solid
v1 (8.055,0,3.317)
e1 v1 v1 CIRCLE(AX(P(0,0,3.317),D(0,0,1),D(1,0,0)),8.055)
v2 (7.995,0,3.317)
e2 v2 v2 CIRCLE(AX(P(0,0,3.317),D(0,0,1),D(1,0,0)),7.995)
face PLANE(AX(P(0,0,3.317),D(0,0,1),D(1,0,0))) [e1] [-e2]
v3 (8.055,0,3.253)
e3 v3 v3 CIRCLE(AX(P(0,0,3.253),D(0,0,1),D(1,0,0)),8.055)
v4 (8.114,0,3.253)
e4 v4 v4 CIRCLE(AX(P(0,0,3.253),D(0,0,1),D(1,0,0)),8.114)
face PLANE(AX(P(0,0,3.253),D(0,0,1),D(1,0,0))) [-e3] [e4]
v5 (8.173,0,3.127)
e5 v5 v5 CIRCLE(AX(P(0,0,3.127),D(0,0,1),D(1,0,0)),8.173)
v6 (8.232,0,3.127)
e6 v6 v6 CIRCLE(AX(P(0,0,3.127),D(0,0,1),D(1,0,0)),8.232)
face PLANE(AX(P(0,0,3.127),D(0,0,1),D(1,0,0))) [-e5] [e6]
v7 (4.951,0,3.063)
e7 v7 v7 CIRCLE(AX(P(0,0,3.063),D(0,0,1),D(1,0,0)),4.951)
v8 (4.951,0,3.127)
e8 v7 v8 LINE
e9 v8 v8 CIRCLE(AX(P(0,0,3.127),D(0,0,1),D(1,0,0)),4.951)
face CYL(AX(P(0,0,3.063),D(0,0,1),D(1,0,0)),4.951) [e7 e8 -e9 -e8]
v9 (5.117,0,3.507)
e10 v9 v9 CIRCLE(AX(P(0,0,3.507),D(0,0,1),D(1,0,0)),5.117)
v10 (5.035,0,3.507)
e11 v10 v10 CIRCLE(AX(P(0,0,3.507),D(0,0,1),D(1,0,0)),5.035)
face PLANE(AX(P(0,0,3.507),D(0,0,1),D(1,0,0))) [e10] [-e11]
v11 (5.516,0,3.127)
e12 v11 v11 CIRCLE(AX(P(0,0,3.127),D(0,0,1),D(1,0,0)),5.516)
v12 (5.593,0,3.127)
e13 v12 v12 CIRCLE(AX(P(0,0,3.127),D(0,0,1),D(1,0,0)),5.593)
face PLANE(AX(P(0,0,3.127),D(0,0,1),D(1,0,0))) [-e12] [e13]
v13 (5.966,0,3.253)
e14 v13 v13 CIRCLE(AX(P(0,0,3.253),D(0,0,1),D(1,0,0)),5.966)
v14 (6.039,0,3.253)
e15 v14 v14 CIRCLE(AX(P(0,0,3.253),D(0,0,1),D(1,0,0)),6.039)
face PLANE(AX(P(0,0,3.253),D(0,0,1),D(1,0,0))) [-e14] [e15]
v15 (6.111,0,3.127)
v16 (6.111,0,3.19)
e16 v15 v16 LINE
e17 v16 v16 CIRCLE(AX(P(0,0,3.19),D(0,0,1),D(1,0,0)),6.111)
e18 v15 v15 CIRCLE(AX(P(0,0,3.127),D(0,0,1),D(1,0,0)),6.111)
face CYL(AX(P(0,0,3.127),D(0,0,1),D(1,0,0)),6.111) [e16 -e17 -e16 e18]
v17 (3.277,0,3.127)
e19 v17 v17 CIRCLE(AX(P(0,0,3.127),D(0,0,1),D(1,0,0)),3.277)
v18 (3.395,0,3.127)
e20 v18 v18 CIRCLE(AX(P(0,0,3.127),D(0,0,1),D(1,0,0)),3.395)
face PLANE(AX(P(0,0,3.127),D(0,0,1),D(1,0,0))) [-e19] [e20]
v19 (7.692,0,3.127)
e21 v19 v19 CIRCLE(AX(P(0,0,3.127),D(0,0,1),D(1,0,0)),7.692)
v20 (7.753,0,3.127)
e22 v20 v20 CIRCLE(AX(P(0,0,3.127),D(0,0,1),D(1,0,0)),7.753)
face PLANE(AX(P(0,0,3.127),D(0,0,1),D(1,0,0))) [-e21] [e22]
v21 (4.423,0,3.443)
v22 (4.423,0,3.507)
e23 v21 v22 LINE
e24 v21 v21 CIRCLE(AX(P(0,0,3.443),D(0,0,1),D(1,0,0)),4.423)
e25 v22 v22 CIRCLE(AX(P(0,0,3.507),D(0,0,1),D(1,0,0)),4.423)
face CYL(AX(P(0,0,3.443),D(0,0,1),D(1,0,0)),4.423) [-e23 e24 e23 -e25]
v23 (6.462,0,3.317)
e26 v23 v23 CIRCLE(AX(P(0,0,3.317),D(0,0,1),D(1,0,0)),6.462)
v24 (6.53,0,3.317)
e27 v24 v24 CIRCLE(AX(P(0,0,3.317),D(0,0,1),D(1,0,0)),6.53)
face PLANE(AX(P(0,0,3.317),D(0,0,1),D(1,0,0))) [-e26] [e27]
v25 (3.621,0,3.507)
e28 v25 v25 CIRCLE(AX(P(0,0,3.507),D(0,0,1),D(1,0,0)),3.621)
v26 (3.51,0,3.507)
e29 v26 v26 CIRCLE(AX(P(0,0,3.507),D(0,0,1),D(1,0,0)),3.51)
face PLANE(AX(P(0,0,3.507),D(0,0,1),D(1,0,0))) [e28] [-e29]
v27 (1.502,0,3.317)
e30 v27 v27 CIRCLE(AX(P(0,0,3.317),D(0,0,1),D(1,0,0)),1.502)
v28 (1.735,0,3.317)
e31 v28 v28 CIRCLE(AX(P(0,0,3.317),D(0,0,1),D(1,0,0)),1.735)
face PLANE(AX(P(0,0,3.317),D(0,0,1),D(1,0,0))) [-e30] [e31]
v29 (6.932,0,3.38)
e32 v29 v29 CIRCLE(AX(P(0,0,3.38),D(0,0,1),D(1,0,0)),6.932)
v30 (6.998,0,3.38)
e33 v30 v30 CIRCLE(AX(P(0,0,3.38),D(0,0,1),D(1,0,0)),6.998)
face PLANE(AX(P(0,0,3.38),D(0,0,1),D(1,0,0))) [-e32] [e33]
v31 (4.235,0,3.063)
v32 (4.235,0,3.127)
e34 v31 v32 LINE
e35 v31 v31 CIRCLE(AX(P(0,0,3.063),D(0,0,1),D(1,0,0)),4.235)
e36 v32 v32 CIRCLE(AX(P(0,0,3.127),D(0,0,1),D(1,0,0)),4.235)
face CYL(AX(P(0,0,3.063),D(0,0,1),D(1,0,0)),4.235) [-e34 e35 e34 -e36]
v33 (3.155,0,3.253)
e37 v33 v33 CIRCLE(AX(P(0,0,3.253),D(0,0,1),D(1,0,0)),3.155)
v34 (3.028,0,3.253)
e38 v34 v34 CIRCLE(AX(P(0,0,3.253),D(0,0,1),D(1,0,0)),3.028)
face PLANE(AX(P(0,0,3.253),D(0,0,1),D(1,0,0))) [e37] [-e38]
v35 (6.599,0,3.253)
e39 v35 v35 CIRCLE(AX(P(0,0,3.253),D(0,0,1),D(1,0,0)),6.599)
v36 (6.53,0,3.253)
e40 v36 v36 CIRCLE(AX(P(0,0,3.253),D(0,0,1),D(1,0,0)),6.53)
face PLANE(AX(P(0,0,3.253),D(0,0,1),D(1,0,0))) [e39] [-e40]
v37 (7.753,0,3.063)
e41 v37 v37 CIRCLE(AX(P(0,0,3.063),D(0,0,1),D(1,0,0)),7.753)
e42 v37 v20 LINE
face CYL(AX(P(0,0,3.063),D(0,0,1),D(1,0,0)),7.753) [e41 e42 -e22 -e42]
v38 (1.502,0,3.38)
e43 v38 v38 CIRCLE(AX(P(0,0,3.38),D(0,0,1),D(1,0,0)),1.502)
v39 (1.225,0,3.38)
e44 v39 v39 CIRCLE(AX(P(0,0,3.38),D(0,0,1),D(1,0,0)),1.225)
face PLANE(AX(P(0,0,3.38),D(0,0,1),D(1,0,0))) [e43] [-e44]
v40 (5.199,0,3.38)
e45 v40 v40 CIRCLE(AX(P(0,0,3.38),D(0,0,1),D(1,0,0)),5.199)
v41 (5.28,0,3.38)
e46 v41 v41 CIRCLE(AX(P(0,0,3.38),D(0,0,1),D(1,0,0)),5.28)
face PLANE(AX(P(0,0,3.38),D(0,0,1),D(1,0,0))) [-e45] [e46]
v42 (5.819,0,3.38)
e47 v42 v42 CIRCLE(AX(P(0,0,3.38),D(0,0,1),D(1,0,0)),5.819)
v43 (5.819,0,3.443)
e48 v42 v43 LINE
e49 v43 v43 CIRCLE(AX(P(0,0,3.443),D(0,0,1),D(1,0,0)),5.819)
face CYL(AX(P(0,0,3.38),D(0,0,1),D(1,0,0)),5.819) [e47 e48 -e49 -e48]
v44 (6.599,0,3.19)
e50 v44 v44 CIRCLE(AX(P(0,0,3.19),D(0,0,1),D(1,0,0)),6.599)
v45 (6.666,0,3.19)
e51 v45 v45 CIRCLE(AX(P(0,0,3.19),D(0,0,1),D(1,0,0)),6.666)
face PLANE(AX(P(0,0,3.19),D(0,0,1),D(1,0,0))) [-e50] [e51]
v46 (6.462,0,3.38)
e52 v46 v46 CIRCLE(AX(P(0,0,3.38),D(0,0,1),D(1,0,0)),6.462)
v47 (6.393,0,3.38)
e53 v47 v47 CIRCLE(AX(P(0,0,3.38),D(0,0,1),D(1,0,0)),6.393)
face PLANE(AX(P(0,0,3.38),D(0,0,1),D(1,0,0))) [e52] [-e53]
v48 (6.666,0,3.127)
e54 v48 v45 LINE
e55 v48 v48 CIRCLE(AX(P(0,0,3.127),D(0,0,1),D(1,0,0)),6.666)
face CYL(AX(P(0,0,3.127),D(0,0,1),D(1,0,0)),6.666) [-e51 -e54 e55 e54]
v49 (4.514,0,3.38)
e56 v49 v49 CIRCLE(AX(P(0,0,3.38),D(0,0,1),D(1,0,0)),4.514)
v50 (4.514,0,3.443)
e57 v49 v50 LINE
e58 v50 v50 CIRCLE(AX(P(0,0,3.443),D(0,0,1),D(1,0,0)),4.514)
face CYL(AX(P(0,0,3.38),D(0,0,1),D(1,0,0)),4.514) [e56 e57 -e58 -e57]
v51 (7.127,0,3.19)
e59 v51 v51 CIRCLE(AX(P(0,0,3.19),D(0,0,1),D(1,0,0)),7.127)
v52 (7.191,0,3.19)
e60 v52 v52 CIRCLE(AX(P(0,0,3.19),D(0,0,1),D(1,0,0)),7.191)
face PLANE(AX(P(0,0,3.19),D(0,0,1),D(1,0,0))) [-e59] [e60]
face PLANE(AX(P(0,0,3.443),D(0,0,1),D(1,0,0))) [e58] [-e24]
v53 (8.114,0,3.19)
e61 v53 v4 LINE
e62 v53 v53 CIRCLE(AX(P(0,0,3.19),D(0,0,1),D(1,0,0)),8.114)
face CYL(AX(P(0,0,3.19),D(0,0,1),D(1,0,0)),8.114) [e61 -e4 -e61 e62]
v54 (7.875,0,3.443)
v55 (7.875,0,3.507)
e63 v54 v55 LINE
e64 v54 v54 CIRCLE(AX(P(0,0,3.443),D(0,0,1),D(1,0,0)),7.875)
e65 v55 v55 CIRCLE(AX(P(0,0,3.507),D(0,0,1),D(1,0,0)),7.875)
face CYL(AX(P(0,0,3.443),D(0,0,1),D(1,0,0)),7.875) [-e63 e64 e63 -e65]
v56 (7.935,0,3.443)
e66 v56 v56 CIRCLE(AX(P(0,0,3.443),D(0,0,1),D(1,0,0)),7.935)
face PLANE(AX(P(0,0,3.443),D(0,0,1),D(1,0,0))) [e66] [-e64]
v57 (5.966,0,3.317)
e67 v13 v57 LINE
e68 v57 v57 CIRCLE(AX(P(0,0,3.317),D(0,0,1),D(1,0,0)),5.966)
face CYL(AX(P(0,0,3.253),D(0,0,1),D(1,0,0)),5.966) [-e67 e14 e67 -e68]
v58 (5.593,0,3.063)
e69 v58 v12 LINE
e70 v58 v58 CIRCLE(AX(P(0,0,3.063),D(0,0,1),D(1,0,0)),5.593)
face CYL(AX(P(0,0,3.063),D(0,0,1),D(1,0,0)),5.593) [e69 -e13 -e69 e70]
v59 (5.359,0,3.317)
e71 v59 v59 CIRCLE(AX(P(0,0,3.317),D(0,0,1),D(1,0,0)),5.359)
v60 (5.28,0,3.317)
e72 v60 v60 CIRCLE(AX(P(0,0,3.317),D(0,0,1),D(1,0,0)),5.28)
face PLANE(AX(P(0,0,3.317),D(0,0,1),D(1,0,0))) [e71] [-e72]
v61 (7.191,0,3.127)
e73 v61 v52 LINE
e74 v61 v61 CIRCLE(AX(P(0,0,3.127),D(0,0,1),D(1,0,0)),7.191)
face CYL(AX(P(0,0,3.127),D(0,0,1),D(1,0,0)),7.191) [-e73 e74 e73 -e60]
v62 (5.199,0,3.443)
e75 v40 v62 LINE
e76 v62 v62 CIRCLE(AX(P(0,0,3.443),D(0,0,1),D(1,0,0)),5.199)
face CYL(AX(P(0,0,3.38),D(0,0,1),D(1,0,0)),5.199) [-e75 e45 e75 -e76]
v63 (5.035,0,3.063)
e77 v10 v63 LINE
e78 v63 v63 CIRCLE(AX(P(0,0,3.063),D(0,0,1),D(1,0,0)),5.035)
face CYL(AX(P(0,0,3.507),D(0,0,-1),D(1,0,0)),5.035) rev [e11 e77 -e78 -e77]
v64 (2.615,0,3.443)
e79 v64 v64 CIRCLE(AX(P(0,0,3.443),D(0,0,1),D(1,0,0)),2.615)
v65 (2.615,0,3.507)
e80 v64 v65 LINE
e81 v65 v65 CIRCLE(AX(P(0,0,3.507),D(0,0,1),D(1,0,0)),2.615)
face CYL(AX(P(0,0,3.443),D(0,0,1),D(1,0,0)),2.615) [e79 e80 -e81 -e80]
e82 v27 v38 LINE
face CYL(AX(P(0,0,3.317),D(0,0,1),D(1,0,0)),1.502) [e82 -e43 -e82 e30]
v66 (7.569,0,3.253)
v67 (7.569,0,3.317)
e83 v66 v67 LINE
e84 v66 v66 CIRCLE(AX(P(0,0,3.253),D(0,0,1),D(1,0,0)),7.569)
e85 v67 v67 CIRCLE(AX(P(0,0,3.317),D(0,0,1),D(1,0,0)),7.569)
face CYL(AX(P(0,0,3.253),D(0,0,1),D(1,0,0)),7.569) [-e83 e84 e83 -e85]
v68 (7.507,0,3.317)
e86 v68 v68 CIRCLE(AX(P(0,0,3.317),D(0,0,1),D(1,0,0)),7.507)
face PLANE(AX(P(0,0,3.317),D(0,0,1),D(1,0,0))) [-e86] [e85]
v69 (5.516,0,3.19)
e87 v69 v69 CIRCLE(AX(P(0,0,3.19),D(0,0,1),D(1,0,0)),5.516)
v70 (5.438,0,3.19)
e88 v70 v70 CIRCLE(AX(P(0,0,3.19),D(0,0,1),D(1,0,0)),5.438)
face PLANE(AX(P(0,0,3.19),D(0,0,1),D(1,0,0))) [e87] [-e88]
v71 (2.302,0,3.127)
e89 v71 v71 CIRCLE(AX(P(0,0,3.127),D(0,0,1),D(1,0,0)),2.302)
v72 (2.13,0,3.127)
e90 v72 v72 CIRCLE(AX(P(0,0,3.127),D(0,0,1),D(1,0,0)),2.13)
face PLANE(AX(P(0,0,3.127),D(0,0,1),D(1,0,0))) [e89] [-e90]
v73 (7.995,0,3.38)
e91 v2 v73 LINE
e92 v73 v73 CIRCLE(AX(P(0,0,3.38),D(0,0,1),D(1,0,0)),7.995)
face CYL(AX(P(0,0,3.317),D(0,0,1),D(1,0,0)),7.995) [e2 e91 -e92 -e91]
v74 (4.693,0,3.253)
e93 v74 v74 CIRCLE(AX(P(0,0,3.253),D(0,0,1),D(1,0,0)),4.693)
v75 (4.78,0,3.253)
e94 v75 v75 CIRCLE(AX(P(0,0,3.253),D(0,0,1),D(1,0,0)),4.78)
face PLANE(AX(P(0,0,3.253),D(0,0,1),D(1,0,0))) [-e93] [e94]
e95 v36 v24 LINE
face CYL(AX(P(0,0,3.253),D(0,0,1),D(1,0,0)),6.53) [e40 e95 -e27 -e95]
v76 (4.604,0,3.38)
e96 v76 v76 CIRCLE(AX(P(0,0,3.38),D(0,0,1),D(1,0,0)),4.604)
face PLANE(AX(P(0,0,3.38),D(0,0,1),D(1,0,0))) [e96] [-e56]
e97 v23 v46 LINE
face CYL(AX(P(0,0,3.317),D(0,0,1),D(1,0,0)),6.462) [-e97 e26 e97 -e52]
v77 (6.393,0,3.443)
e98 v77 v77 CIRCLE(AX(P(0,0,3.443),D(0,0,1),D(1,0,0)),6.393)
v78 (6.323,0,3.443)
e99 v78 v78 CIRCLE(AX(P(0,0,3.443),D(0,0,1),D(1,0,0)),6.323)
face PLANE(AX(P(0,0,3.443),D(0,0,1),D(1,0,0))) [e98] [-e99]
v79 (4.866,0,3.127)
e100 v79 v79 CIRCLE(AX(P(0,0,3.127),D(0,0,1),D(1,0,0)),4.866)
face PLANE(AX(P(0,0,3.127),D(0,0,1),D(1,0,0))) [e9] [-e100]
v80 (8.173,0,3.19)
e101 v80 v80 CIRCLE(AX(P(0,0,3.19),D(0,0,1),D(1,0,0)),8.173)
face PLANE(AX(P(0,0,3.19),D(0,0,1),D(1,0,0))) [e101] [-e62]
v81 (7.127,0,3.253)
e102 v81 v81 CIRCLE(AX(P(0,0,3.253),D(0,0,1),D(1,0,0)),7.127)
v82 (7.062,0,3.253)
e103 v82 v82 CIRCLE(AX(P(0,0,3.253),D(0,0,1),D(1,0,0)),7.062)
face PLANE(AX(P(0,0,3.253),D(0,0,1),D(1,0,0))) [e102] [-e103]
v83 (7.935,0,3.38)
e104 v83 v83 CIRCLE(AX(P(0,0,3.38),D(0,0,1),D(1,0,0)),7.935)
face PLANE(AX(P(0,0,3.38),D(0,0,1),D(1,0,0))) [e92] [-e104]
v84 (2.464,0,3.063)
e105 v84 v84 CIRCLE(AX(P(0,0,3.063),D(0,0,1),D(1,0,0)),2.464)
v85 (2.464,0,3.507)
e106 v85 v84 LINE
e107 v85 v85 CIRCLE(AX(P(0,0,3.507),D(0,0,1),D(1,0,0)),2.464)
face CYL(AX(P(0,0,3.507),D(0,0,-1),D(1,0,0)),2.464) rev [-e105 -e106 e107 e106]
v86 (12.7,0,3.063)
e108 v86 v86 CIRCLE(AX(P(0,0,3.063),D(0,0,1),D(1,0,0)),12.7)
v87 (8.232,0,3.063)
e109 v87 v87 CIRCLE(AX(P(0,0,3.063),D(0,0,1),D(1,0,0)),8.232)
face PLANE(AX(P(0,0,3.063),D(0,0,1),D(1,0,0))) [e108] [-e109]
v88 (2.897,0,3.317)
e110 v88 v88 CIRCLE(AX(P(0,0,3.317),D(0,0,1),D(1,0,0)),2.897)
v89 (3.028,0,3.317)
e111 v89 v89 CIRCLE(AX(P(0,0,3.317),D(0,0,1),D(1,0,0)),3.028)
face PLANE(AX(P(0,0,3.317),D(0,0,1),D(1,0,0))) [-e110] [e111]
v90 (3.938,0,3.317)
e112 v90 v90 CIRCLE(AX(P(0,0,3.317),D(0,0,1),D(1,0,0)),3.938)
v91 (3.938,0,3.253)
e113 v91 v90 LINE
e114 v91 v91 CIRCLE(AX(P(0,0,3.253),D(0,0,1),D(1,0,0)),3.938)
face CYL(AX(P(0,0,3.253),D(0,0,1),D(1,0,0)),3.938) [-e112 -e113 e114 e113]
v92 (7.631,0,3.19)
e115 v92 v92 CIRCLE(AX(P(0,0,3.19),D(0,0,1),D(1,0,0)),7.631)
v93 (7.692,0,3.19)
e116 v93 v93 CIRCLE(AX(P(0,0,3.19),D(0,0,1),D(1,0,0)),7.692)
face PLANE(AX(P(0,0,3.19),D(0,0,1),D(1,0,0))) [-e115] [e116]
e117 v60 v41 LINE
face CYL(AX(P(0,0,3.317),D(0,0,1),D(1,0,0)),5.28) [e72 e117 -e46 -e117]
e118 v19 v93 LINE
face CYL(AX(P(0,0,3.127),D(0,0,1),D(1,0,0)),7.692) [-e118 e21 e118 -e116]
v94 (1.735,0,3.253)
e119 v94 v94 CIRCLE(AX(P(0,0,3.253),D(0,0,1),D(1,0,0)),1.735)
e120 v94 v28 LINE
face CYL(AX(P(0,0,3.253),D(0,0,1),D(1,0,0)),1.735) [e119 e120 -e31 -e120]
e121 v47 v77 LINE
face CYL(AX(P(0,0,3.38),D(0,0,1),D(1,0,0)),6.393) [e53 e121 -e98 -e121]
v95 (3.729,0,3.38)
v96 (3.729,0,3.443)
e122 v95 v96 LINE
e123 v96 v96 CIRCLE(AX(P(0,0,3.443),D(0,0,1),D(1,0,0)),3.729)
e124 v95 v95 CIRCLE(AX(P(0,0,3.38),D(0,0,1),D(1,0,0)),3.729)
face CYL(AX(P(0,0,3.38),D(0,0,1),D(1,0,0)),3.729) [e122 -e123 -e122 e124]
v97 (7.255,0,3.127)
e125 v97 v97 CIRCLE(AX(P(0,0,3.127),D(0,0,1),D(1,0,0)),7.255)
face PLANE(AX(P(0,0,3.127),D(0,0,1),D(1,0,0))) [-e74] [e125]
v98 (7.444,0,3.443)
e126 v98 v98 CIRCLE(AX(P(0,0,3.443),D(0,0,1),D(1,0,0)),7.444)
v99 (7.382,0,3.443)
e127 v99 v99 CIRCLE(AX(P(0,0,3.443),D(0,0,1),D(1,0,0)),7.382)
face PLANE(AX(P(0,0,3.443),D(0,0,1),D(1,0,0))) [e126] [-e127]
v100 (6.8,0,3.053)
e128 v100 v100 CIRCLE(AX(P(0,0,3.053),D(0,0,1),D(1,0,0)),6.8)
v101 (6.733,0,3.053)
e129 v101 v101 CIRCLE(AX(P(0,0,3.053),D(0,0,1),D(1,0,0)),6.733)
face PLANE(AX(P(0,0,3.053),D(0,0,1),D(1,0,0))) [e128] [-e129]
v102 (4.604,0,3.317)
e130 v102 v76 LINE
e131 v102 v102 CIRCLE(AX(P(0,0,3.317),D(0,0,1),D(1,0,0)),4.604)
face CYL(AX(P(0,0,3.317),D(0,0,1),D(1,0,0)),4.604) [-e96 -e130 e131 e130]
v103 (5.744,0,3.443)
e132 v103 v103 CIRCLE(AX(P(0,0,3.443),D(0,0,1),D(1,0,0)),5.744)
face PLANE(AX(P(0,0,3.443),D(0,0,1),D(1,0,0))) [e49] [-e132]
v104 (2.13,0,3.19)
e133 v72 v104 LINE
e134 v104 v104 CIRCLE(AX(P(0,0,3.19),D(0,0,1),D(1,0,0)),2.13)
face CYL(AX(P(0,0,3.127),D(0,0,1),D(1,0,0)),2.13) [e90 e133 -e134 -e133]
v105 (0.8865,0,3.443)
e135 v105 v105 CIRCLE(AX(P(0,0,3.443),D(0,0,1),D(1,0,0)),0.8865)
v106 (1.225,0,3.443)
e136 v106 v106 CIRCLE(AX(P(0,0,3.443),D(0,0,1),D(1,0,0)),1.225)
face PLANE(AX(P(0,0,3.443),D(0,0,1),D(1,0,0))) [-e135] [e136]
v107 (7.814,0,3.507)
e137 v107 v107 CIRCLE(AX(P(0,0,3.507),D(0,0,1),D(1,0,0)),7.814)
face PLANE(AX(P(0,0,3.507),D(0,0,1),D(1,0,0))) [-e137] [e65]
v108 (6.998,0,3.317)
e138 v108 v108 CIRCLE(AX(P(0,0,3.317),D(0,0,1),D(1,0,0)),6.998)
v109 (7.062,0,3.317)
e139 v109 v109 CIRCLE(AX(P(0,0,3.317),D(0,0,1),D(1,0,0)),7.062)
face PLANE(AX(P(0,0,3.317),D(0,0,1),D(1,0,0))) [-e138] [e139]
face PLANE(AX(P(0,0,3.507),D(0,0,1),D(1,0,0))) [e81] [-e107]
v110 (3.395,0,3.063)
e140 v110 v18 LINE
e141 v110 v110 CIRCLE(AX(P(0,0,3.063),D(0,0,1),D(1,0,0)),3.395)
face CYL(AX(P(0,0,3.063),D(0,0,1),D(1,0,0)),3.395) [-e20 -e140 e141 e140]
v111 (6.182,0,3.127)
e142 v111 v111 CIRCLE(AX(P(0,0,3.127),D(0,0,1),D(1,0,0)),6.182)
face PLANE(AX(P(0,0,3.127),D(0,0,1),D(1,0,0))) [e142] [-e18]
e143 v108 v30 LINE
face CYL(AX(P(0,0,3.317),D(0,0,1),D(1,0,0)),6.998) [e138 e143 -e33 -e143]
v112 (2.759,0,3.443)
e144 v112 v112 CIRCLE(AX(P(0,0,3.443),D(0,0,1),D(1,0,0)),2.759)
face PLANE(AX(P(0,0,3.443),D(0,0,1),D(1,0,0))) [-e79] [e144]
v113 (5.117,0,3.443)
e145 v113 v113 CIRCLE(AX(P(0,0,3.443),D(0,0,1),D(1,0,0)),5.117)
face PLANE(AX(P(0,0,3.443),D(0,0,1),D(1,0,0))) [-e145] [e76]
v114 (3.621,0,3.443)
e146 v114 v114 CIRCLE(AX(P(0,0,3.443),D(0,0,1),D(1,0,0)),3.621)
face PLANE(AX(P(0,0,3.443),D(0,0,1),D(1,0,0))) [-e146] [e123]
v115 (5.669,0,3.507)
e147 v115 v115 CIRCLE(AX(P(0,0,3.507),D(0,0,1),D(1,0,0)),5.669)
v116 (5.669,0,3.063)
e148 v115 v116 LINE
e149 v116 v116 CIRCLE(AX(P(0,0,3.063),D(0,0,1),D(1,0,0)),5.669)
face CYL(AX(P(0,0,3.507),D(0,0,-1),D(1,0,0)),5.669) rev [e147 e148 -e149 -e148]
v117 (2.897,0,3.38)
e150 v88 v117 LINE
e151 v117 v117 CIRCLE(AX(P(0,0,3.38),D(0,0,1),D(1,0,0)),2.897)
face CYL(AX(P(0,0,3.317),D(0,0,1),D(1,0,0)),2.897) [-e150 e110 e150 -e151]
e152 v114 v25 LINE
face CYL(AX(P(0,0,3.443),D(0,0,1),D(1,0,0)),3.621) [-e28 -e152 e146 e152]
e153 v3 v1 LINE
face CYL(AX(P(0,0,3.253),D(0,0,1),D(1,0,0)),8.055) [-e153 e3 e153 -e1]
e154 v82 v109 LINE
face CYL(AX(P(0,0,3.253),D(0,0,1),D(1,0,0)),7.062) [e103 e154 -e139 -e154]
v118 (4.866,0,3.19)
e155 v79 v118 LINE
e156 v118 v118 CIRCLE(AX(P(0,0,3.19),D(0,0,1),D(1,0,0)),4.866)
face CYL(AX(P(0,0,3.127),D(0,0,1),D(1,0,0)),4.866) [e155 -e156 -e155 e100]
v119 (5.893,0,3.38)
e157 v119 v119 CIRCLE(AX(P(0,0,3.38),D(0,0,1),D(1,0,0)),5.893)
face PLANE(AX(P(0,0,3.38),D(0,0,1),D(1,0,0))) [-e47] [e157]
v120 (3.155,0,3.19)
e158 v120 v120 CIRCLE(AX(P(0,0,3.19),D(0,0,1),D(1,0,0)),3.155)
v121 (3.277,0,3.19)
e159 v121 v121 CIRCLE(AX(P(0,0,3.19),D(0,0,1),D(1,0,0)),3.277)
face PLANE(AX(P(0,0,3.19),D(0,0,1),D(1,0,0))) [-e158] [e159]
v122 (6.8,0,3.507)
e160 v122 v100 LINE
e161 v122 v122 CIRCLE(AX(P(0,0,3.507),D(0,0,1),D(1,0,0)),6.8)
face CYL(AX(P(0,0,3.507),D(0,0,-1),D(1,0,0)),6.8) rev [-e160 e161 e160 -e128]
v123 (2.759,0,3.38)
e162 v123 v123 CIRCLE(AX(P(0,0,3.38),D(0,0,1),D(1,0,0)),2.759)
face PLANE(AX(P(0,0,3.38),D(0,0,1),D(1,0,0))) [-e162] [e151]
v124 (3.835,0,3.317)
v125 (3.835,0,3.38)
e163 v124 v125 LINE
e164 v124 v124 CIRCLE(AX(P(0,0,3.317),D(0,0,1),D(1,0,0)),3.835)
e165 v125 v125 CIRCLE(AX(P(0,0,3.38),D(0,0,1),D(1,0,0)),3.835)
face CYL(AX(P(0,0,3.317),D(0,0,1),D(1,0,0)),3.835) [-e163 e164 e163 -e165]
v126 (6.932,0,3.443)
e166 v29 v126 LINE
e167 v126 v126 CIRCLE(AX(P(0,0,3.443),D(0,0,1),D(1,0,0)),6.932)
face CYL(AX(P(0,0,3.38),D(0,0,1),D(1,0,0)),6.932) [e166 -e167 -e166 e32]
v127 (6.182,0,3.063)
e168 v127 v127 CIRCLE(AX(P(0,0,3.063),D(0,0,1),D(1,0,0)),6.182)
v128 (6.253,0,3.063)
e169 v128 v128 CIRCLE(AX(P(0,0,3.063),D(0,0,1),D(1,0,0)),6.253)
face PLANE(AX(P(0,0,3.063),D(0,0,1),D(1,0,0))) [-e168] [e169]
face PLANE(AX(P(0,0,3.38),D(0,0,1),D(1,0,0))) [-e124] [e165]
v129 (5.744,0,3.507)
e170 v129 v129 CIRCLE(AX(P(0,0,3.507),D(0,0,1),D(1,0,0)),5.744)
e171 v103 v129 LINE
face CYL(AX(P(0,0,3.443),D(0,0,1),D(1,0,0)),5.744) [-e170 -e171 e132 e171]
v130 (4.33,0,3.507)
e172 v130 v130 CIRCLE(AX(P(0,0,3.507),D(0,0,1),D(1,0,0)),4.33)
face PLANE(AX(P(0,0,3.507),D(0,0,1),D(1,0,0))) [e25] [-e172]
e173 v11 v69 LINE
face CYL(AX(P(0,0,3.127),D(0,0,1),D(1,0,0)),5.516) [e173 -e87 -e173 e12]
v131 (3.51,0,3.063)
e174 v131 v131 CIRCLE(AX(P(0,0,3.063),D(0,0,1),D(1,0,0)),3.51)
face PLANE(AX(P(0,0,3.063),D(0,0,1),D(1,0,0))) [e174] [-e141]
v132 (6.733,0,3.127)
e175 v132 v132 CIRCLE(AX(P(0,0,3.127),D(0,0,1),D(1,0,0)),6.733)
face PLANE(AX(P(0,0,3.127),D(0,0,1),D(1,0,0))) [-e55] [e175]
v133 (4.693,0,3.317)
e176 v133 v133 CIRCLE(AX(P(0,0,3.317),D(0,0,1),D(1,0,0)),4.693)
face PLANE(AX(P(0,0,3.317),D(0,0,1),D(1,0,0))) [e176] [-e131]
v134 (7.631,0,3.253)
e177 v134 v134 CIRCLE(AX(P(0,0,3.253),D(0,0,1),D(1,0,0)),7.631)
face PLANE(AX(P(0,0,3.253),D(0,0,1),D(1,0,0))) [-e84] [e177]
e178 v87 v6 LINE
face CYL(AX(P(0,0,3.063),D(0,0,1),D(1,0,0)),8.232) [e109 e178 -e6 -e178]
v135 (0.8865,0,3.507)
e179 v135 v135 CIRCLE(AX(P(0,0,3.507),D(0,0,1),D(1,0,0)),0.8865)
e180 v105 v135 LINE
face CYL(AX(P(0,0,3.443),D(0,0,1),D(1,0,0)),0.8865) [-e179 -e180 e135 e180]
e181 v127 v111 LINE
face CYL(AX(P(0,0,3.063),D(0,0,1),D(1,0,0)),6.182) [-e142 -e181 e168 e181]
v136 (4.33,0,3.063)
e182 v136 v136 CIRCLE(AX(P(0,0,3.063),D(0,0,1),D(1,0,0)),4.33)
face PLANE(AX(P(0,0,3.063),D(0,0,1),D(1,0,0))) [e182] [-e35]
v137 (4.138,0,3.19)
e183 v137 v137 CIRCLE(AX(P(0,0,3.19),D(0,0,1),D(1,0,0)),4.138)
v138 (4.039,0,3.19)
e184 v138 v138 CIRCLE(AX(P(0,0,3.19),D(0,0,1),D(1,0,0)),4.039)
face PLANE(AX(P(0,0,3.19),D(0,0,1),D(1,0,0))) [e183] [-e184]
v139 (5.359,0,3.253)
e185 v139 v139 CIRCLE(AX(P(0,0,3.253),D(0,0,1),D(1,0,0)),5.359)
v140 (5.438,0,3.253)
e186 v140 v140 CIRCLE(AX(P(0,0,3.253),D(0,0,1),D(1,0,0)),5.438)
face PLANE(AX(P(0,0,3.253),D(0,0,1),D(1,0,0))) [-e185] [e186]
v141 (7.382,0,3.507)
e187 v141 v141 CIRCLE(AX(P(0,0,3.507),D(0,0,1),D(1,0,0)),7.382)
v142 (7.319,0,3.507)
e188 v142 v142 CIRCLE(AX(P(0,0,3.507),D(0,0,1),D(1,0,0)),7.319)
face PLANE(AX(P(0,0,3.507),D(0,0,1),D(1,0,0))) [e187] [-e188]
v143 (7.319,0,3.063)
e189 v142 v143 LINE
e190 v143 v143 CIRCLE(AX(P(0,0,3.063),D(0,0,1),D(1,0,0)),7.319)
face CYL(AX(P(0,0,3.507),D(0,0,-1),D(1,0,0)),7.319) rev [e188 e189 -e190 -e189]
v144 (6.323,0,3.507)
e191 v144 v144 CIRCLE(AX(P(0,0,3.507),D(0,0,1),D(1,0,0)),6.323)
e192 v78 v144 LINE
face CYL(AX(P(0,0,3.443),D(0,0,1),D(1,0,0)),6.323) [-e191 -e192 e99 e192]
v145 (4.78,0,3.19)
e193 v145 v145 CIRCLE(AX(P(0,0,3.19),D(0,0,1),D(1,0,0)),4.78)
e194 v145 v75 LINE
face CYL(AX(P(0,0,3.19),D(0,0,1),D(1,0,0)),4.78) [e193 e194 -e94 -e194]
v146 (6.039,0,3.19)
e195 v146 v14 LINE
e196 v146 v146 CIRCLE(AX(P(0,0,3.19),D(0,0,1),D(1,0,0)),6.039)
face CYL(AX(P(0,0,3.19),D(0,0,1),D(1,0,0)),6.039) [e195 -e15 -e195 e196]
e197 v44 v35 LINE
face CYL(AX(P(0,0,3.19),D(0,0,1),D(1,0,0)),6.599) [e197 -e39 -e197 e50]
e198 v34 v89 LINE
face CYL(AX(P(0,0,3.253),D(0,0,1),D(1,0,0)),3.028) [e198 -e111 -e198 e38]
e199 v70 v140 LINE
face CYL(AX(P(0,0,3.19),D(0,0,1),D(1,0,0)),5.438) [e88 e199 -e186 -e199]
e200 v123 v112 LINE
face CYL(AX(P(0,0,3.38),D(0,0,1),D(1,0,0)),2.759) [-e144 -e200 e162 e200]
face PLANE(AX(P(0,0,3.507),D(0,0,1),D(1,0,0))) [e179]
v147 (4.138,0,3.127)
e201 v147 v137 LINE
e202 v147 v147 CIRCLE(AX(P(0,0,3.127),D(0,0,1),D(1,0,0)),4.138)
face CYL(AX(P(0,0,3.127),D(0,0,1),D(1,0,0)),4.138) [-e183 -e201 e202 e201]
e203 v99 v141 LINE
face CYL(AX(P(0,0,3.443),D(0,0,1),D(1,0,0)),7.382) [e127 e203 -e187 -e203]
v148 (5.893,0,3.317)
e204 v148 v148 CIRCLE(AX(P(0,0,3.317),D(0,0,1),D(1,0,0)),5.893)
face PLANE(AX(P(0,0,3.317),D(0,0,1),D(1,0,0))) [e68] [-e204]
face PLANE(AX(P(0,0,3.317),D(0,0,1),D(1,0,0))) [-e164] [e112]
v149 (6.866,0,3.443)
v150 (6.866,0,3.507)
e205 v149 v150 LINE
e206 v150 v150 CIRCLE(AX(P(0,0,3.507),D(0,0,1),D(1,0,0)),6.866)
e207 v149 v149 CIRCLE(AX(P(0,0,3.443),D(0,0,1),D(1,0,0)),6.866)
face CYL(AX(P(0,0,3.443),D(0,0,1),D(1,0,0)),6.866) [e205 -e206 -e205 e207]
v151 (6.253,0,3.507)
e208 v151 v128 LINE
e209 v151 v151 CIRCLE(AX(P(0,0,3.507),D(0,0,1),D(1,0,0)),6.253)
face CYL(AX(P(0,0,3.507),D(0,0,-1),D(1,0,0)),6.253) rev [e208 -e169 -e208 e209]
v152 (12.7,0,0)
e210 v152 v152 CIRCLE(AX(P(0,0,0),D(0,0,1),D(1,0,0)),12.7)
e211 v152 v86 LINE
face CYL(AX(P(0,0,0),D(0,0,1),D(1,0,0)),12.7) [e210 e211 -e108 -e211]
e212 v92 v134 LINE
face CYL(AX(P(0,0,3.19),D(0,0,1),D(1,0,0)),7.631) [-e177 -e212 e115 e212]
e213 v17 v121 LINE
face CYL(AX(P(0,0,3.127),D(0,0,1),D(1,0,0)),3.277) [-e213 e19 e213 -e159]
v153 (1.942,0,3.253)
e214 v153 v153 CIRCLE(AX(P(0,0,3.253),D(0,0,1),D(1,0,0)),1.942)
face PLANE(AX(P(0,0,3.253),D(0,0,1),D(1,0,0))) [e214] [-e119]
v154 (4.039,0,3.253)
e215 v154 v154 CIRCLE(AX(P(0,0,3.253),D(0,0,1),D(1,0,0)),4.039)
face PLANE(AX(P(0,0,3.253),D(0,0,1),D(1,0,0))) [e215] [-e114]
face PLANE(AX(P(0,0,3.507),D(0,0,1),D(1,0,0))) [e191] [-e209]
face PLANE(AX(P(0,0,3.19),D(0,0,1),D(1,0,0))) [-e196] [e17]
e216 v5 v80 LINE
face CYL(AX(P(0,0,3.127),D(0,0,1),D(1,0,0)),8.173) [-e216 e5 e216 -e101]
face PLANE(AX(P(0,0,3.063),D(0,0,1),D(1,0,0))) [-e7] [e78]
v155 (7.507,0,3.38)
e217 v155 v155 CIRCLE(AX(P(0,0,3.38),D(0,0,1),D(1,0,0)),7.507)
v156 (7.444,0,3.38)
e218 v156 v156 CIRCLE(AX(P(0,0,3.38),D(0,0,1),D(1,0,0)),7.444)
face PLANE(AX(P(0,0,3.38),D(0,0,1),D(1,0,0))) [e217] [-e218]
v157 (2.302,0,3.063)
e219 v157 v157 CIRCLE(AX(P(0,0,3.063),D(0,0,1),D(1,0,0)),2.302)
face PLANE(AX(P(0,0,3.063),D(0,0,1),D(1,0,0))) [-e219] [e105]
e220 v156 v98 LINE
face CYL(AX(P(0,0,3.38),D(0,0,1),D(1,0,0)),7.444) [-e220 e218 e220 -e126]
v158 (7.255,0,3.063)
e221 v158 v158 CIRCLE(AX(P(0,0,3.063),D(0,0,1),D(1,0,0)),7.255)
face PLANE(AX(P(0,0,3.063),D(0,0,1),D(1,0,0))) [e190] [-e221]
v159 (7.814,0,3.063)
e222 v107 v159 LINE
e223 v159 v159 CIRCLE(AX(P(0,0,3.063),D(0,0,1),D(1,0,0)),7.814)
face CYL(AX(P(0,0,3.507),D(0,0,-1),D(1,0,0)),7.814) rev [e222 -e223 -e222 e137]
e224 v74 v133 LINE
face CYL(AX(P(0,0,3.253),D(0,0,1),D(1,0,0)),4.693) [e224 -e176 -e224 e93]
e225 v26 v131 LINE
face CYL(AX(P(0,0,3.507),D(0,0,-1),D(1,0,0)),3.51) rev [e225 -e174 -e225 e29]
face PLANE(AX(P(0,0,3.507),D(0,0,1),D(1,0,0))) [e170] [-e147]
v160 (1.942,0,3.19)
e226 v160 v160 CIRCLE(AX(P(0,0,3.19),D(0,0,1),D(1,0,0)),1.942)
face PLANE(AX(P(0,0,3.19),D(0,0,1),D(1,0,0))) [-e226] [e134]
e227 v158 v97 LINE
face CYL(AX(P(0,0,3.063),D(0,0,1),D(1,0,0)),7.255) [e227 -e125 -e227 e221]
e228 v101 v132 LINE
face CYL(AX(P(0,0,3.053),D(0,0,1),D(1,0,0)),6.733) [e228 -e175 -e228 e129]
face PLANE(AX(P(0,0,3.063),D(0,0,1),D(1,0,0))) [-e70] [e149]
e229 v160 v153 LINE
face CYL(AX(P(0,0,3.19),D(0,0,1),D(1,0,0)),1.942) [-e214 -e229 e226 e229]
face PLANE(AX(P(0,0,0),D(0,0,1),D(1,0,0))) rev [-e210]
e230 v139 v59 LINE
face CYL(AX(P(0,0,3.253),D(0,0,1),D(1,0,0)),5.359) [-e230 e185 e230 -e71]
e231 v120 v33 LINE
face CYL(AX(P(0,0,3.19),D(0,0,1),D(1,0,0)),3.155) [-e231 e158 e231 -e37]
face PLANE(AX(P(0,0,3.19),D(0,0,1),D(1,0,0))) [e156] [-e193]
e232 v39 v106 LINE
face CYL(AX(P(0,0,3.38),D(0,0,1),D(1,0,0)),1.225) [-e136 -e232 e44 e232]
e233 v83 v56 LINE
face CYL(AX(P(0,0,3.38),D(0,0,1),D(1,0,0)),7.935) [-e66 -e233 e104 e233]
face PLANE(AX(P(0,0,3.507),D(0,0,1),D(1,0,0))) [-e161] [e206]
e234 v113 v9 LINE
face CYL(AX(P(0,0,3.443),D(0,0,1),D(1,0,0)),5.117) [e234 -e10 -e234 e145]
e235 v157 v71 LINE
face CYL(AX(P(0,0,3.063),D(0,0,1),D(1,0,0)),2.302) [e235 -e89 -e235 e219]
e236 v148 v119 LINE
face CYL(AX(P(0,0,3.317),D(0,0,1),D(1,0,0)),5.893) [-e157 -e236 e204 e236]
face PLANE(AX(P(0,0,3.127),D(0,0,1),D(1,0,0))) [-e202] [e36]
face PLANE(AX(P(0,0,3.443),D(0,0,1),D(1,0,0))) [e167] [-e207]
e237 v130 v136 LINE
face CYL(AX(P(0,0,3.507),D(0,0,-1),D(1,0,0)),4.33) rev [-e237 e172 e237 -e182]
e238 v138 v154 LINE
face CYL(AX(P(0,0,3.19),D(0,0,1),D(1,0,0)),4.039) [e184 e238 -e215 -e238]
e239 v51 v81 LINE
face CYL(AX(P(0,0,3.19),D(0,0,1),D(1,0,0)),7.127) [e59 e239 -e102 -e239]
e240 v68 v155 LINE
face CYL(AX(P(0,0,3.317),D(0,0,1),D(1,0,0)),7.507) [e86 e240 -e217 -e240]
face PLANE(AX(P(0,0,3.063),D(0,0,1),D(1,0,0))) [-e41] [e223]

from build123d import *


with BuildPart() as f1:
    # F0 (on Front) → F1 (revolve)
    with BuildSketch(Plane.XZ):
        Polygon((0, 3.507), (0, 0), (12.7, 0), (12.7, 3.063), (8.291, 3.063), (8.232, 3.063), (8.232, 3.127), (8.173, 3.127), (8.173, 3.19), (8.114, 3.19), (8.114, 3.253), (8.055, 3.253), (8.055, 3.317), (7.995, 3.317), (7.995, 3.38), (7.935, 3.38), (7.935, 3.443), (7.875, 3.443), (7.875, 3.507), (7.814, 3.507), (7.814, 3.063), (7.753, 3.063), (7.753, 3.127), (7.692, 3.127), (7.692, 3.19), (7.631, 3.19), (7.631, 3.253), (7.569, 3.253), (7.569, 3.317), (7.507, 3.317), (7.507, 3.38), (7.444, 3.38), (7.444, 3.443), (7.382, 3.443), (7.382, 3.507), (7.319, 3.507), (7.319, 3.063), (7.255, 3.063), (7.255, 3.127), (7.191, 3.127), (7.191, 3.19), (7.127, 3.19), (7.127, 3.253), (7.062, 3.253), (7.062, 3.317), (6.998, 3.317), (6.998, 3.38), (6.932, 3.38), (6.932, 3.443), (6.866, 3.443), (6.866, 3.507), (6.8, 3.507), (6.8, 3.053), (6.733, 3.053), (6.733, 3.127), (6.666, 3.127), (6.666, 3.19), (6.599, 3.19), (6.599, 3.253), (6.53, 3.253), (6.53, 3.317), (6.462, 3.317), (6.462, 3.38), (6.393, 3.38), (6.393, 3.443), (6.323, 3.443), (6.323, 3.507), (6.253, 3.507), (6.253, 3.063), (6.182, 3.063), (6.182, 3.127), (6.111, 3.127), (6.111, 3.19), (6.039, 3.19), (6.039, 3.253), (5.966, 3.253), (5.966, 3.317), (5.893, 3.317), (5.893, 3.38), (5.819, 3.38), (5.819, 3.443), (5.744, 3.443), (5.744, 3.507), (5.669, 3.507), (5.669, 3.063), (5.593, 3.063), (5.593, 3.127), (5.516, 3.127), (5.516, 3.19), (5.438, 3.19), (5.438, 3.253), (5.359, 3.253), (5.359, 3.317), (5.28, 3.317), (5.28, 3.38), (5.199, 3.38), (5.199, 3.443), (5.117, 3.443), (5.117, 3.507), (5.035, 3.507), (5.035, 3.063), (4.951, 3.063), (4.951, 3.127), (4.866, 3.127), (4.866, 3.19), (4.78, 3.19), (4.78, 3.253), (4.693, 3.253), (4.693, 3.317), (4.604, 3.317), (4.604, 3.38), (4.514, 3.38), (4.514, 3.443), (4.423, 3.443), (4.423, 3.507), (4.33, 3.507), (4.33, 3.063), (4.235, 3.063), (4.235, 3.127), (4.138, 3.127), (4.138, 3.19), (4.039, 3.19), (4.039, 3.253), (3.938, 3.253), (3.938, 3.317), (3.835, 3.317), (3.835, 3.38), (3.729, 3.38), (3.729, 3.443), (3.621, 3.443), (3.621, 3.507), (3.51, 3.507), (3.51, 3.063), (3.395, 3.063), (3.395, 3.127), (3.277, 3.127), (3.277, 3.19), (3.155, 3.19), (3.155, 3.253), (3.028, 3.253), (3.028, 3.317), (2.897, 3.317), (2.897, 3.38), (2.759, 3.38), (2.759, 3.443), (2.615, 3.443), (2.615, 3.507), (2.464, 3.507), (2.464, 3.063), (2.302, 3.063), (2.302, 3.127), (2.13, 3.127), (2.13, 3.19), (1.942, 3.19), (1.942, 3.253), (1.735, 3.253), (1.735, 3.317), (1.502, 3.317), (1.502, 3.38), (1.225, 3.38), (1.225, 3.443), (0.8865, 3.443), (0.8865, 3.507), align=None)
    revolve(axis=Axis((0, 0, 1.7535), (0, 0, 1)))


solid = f1.part
